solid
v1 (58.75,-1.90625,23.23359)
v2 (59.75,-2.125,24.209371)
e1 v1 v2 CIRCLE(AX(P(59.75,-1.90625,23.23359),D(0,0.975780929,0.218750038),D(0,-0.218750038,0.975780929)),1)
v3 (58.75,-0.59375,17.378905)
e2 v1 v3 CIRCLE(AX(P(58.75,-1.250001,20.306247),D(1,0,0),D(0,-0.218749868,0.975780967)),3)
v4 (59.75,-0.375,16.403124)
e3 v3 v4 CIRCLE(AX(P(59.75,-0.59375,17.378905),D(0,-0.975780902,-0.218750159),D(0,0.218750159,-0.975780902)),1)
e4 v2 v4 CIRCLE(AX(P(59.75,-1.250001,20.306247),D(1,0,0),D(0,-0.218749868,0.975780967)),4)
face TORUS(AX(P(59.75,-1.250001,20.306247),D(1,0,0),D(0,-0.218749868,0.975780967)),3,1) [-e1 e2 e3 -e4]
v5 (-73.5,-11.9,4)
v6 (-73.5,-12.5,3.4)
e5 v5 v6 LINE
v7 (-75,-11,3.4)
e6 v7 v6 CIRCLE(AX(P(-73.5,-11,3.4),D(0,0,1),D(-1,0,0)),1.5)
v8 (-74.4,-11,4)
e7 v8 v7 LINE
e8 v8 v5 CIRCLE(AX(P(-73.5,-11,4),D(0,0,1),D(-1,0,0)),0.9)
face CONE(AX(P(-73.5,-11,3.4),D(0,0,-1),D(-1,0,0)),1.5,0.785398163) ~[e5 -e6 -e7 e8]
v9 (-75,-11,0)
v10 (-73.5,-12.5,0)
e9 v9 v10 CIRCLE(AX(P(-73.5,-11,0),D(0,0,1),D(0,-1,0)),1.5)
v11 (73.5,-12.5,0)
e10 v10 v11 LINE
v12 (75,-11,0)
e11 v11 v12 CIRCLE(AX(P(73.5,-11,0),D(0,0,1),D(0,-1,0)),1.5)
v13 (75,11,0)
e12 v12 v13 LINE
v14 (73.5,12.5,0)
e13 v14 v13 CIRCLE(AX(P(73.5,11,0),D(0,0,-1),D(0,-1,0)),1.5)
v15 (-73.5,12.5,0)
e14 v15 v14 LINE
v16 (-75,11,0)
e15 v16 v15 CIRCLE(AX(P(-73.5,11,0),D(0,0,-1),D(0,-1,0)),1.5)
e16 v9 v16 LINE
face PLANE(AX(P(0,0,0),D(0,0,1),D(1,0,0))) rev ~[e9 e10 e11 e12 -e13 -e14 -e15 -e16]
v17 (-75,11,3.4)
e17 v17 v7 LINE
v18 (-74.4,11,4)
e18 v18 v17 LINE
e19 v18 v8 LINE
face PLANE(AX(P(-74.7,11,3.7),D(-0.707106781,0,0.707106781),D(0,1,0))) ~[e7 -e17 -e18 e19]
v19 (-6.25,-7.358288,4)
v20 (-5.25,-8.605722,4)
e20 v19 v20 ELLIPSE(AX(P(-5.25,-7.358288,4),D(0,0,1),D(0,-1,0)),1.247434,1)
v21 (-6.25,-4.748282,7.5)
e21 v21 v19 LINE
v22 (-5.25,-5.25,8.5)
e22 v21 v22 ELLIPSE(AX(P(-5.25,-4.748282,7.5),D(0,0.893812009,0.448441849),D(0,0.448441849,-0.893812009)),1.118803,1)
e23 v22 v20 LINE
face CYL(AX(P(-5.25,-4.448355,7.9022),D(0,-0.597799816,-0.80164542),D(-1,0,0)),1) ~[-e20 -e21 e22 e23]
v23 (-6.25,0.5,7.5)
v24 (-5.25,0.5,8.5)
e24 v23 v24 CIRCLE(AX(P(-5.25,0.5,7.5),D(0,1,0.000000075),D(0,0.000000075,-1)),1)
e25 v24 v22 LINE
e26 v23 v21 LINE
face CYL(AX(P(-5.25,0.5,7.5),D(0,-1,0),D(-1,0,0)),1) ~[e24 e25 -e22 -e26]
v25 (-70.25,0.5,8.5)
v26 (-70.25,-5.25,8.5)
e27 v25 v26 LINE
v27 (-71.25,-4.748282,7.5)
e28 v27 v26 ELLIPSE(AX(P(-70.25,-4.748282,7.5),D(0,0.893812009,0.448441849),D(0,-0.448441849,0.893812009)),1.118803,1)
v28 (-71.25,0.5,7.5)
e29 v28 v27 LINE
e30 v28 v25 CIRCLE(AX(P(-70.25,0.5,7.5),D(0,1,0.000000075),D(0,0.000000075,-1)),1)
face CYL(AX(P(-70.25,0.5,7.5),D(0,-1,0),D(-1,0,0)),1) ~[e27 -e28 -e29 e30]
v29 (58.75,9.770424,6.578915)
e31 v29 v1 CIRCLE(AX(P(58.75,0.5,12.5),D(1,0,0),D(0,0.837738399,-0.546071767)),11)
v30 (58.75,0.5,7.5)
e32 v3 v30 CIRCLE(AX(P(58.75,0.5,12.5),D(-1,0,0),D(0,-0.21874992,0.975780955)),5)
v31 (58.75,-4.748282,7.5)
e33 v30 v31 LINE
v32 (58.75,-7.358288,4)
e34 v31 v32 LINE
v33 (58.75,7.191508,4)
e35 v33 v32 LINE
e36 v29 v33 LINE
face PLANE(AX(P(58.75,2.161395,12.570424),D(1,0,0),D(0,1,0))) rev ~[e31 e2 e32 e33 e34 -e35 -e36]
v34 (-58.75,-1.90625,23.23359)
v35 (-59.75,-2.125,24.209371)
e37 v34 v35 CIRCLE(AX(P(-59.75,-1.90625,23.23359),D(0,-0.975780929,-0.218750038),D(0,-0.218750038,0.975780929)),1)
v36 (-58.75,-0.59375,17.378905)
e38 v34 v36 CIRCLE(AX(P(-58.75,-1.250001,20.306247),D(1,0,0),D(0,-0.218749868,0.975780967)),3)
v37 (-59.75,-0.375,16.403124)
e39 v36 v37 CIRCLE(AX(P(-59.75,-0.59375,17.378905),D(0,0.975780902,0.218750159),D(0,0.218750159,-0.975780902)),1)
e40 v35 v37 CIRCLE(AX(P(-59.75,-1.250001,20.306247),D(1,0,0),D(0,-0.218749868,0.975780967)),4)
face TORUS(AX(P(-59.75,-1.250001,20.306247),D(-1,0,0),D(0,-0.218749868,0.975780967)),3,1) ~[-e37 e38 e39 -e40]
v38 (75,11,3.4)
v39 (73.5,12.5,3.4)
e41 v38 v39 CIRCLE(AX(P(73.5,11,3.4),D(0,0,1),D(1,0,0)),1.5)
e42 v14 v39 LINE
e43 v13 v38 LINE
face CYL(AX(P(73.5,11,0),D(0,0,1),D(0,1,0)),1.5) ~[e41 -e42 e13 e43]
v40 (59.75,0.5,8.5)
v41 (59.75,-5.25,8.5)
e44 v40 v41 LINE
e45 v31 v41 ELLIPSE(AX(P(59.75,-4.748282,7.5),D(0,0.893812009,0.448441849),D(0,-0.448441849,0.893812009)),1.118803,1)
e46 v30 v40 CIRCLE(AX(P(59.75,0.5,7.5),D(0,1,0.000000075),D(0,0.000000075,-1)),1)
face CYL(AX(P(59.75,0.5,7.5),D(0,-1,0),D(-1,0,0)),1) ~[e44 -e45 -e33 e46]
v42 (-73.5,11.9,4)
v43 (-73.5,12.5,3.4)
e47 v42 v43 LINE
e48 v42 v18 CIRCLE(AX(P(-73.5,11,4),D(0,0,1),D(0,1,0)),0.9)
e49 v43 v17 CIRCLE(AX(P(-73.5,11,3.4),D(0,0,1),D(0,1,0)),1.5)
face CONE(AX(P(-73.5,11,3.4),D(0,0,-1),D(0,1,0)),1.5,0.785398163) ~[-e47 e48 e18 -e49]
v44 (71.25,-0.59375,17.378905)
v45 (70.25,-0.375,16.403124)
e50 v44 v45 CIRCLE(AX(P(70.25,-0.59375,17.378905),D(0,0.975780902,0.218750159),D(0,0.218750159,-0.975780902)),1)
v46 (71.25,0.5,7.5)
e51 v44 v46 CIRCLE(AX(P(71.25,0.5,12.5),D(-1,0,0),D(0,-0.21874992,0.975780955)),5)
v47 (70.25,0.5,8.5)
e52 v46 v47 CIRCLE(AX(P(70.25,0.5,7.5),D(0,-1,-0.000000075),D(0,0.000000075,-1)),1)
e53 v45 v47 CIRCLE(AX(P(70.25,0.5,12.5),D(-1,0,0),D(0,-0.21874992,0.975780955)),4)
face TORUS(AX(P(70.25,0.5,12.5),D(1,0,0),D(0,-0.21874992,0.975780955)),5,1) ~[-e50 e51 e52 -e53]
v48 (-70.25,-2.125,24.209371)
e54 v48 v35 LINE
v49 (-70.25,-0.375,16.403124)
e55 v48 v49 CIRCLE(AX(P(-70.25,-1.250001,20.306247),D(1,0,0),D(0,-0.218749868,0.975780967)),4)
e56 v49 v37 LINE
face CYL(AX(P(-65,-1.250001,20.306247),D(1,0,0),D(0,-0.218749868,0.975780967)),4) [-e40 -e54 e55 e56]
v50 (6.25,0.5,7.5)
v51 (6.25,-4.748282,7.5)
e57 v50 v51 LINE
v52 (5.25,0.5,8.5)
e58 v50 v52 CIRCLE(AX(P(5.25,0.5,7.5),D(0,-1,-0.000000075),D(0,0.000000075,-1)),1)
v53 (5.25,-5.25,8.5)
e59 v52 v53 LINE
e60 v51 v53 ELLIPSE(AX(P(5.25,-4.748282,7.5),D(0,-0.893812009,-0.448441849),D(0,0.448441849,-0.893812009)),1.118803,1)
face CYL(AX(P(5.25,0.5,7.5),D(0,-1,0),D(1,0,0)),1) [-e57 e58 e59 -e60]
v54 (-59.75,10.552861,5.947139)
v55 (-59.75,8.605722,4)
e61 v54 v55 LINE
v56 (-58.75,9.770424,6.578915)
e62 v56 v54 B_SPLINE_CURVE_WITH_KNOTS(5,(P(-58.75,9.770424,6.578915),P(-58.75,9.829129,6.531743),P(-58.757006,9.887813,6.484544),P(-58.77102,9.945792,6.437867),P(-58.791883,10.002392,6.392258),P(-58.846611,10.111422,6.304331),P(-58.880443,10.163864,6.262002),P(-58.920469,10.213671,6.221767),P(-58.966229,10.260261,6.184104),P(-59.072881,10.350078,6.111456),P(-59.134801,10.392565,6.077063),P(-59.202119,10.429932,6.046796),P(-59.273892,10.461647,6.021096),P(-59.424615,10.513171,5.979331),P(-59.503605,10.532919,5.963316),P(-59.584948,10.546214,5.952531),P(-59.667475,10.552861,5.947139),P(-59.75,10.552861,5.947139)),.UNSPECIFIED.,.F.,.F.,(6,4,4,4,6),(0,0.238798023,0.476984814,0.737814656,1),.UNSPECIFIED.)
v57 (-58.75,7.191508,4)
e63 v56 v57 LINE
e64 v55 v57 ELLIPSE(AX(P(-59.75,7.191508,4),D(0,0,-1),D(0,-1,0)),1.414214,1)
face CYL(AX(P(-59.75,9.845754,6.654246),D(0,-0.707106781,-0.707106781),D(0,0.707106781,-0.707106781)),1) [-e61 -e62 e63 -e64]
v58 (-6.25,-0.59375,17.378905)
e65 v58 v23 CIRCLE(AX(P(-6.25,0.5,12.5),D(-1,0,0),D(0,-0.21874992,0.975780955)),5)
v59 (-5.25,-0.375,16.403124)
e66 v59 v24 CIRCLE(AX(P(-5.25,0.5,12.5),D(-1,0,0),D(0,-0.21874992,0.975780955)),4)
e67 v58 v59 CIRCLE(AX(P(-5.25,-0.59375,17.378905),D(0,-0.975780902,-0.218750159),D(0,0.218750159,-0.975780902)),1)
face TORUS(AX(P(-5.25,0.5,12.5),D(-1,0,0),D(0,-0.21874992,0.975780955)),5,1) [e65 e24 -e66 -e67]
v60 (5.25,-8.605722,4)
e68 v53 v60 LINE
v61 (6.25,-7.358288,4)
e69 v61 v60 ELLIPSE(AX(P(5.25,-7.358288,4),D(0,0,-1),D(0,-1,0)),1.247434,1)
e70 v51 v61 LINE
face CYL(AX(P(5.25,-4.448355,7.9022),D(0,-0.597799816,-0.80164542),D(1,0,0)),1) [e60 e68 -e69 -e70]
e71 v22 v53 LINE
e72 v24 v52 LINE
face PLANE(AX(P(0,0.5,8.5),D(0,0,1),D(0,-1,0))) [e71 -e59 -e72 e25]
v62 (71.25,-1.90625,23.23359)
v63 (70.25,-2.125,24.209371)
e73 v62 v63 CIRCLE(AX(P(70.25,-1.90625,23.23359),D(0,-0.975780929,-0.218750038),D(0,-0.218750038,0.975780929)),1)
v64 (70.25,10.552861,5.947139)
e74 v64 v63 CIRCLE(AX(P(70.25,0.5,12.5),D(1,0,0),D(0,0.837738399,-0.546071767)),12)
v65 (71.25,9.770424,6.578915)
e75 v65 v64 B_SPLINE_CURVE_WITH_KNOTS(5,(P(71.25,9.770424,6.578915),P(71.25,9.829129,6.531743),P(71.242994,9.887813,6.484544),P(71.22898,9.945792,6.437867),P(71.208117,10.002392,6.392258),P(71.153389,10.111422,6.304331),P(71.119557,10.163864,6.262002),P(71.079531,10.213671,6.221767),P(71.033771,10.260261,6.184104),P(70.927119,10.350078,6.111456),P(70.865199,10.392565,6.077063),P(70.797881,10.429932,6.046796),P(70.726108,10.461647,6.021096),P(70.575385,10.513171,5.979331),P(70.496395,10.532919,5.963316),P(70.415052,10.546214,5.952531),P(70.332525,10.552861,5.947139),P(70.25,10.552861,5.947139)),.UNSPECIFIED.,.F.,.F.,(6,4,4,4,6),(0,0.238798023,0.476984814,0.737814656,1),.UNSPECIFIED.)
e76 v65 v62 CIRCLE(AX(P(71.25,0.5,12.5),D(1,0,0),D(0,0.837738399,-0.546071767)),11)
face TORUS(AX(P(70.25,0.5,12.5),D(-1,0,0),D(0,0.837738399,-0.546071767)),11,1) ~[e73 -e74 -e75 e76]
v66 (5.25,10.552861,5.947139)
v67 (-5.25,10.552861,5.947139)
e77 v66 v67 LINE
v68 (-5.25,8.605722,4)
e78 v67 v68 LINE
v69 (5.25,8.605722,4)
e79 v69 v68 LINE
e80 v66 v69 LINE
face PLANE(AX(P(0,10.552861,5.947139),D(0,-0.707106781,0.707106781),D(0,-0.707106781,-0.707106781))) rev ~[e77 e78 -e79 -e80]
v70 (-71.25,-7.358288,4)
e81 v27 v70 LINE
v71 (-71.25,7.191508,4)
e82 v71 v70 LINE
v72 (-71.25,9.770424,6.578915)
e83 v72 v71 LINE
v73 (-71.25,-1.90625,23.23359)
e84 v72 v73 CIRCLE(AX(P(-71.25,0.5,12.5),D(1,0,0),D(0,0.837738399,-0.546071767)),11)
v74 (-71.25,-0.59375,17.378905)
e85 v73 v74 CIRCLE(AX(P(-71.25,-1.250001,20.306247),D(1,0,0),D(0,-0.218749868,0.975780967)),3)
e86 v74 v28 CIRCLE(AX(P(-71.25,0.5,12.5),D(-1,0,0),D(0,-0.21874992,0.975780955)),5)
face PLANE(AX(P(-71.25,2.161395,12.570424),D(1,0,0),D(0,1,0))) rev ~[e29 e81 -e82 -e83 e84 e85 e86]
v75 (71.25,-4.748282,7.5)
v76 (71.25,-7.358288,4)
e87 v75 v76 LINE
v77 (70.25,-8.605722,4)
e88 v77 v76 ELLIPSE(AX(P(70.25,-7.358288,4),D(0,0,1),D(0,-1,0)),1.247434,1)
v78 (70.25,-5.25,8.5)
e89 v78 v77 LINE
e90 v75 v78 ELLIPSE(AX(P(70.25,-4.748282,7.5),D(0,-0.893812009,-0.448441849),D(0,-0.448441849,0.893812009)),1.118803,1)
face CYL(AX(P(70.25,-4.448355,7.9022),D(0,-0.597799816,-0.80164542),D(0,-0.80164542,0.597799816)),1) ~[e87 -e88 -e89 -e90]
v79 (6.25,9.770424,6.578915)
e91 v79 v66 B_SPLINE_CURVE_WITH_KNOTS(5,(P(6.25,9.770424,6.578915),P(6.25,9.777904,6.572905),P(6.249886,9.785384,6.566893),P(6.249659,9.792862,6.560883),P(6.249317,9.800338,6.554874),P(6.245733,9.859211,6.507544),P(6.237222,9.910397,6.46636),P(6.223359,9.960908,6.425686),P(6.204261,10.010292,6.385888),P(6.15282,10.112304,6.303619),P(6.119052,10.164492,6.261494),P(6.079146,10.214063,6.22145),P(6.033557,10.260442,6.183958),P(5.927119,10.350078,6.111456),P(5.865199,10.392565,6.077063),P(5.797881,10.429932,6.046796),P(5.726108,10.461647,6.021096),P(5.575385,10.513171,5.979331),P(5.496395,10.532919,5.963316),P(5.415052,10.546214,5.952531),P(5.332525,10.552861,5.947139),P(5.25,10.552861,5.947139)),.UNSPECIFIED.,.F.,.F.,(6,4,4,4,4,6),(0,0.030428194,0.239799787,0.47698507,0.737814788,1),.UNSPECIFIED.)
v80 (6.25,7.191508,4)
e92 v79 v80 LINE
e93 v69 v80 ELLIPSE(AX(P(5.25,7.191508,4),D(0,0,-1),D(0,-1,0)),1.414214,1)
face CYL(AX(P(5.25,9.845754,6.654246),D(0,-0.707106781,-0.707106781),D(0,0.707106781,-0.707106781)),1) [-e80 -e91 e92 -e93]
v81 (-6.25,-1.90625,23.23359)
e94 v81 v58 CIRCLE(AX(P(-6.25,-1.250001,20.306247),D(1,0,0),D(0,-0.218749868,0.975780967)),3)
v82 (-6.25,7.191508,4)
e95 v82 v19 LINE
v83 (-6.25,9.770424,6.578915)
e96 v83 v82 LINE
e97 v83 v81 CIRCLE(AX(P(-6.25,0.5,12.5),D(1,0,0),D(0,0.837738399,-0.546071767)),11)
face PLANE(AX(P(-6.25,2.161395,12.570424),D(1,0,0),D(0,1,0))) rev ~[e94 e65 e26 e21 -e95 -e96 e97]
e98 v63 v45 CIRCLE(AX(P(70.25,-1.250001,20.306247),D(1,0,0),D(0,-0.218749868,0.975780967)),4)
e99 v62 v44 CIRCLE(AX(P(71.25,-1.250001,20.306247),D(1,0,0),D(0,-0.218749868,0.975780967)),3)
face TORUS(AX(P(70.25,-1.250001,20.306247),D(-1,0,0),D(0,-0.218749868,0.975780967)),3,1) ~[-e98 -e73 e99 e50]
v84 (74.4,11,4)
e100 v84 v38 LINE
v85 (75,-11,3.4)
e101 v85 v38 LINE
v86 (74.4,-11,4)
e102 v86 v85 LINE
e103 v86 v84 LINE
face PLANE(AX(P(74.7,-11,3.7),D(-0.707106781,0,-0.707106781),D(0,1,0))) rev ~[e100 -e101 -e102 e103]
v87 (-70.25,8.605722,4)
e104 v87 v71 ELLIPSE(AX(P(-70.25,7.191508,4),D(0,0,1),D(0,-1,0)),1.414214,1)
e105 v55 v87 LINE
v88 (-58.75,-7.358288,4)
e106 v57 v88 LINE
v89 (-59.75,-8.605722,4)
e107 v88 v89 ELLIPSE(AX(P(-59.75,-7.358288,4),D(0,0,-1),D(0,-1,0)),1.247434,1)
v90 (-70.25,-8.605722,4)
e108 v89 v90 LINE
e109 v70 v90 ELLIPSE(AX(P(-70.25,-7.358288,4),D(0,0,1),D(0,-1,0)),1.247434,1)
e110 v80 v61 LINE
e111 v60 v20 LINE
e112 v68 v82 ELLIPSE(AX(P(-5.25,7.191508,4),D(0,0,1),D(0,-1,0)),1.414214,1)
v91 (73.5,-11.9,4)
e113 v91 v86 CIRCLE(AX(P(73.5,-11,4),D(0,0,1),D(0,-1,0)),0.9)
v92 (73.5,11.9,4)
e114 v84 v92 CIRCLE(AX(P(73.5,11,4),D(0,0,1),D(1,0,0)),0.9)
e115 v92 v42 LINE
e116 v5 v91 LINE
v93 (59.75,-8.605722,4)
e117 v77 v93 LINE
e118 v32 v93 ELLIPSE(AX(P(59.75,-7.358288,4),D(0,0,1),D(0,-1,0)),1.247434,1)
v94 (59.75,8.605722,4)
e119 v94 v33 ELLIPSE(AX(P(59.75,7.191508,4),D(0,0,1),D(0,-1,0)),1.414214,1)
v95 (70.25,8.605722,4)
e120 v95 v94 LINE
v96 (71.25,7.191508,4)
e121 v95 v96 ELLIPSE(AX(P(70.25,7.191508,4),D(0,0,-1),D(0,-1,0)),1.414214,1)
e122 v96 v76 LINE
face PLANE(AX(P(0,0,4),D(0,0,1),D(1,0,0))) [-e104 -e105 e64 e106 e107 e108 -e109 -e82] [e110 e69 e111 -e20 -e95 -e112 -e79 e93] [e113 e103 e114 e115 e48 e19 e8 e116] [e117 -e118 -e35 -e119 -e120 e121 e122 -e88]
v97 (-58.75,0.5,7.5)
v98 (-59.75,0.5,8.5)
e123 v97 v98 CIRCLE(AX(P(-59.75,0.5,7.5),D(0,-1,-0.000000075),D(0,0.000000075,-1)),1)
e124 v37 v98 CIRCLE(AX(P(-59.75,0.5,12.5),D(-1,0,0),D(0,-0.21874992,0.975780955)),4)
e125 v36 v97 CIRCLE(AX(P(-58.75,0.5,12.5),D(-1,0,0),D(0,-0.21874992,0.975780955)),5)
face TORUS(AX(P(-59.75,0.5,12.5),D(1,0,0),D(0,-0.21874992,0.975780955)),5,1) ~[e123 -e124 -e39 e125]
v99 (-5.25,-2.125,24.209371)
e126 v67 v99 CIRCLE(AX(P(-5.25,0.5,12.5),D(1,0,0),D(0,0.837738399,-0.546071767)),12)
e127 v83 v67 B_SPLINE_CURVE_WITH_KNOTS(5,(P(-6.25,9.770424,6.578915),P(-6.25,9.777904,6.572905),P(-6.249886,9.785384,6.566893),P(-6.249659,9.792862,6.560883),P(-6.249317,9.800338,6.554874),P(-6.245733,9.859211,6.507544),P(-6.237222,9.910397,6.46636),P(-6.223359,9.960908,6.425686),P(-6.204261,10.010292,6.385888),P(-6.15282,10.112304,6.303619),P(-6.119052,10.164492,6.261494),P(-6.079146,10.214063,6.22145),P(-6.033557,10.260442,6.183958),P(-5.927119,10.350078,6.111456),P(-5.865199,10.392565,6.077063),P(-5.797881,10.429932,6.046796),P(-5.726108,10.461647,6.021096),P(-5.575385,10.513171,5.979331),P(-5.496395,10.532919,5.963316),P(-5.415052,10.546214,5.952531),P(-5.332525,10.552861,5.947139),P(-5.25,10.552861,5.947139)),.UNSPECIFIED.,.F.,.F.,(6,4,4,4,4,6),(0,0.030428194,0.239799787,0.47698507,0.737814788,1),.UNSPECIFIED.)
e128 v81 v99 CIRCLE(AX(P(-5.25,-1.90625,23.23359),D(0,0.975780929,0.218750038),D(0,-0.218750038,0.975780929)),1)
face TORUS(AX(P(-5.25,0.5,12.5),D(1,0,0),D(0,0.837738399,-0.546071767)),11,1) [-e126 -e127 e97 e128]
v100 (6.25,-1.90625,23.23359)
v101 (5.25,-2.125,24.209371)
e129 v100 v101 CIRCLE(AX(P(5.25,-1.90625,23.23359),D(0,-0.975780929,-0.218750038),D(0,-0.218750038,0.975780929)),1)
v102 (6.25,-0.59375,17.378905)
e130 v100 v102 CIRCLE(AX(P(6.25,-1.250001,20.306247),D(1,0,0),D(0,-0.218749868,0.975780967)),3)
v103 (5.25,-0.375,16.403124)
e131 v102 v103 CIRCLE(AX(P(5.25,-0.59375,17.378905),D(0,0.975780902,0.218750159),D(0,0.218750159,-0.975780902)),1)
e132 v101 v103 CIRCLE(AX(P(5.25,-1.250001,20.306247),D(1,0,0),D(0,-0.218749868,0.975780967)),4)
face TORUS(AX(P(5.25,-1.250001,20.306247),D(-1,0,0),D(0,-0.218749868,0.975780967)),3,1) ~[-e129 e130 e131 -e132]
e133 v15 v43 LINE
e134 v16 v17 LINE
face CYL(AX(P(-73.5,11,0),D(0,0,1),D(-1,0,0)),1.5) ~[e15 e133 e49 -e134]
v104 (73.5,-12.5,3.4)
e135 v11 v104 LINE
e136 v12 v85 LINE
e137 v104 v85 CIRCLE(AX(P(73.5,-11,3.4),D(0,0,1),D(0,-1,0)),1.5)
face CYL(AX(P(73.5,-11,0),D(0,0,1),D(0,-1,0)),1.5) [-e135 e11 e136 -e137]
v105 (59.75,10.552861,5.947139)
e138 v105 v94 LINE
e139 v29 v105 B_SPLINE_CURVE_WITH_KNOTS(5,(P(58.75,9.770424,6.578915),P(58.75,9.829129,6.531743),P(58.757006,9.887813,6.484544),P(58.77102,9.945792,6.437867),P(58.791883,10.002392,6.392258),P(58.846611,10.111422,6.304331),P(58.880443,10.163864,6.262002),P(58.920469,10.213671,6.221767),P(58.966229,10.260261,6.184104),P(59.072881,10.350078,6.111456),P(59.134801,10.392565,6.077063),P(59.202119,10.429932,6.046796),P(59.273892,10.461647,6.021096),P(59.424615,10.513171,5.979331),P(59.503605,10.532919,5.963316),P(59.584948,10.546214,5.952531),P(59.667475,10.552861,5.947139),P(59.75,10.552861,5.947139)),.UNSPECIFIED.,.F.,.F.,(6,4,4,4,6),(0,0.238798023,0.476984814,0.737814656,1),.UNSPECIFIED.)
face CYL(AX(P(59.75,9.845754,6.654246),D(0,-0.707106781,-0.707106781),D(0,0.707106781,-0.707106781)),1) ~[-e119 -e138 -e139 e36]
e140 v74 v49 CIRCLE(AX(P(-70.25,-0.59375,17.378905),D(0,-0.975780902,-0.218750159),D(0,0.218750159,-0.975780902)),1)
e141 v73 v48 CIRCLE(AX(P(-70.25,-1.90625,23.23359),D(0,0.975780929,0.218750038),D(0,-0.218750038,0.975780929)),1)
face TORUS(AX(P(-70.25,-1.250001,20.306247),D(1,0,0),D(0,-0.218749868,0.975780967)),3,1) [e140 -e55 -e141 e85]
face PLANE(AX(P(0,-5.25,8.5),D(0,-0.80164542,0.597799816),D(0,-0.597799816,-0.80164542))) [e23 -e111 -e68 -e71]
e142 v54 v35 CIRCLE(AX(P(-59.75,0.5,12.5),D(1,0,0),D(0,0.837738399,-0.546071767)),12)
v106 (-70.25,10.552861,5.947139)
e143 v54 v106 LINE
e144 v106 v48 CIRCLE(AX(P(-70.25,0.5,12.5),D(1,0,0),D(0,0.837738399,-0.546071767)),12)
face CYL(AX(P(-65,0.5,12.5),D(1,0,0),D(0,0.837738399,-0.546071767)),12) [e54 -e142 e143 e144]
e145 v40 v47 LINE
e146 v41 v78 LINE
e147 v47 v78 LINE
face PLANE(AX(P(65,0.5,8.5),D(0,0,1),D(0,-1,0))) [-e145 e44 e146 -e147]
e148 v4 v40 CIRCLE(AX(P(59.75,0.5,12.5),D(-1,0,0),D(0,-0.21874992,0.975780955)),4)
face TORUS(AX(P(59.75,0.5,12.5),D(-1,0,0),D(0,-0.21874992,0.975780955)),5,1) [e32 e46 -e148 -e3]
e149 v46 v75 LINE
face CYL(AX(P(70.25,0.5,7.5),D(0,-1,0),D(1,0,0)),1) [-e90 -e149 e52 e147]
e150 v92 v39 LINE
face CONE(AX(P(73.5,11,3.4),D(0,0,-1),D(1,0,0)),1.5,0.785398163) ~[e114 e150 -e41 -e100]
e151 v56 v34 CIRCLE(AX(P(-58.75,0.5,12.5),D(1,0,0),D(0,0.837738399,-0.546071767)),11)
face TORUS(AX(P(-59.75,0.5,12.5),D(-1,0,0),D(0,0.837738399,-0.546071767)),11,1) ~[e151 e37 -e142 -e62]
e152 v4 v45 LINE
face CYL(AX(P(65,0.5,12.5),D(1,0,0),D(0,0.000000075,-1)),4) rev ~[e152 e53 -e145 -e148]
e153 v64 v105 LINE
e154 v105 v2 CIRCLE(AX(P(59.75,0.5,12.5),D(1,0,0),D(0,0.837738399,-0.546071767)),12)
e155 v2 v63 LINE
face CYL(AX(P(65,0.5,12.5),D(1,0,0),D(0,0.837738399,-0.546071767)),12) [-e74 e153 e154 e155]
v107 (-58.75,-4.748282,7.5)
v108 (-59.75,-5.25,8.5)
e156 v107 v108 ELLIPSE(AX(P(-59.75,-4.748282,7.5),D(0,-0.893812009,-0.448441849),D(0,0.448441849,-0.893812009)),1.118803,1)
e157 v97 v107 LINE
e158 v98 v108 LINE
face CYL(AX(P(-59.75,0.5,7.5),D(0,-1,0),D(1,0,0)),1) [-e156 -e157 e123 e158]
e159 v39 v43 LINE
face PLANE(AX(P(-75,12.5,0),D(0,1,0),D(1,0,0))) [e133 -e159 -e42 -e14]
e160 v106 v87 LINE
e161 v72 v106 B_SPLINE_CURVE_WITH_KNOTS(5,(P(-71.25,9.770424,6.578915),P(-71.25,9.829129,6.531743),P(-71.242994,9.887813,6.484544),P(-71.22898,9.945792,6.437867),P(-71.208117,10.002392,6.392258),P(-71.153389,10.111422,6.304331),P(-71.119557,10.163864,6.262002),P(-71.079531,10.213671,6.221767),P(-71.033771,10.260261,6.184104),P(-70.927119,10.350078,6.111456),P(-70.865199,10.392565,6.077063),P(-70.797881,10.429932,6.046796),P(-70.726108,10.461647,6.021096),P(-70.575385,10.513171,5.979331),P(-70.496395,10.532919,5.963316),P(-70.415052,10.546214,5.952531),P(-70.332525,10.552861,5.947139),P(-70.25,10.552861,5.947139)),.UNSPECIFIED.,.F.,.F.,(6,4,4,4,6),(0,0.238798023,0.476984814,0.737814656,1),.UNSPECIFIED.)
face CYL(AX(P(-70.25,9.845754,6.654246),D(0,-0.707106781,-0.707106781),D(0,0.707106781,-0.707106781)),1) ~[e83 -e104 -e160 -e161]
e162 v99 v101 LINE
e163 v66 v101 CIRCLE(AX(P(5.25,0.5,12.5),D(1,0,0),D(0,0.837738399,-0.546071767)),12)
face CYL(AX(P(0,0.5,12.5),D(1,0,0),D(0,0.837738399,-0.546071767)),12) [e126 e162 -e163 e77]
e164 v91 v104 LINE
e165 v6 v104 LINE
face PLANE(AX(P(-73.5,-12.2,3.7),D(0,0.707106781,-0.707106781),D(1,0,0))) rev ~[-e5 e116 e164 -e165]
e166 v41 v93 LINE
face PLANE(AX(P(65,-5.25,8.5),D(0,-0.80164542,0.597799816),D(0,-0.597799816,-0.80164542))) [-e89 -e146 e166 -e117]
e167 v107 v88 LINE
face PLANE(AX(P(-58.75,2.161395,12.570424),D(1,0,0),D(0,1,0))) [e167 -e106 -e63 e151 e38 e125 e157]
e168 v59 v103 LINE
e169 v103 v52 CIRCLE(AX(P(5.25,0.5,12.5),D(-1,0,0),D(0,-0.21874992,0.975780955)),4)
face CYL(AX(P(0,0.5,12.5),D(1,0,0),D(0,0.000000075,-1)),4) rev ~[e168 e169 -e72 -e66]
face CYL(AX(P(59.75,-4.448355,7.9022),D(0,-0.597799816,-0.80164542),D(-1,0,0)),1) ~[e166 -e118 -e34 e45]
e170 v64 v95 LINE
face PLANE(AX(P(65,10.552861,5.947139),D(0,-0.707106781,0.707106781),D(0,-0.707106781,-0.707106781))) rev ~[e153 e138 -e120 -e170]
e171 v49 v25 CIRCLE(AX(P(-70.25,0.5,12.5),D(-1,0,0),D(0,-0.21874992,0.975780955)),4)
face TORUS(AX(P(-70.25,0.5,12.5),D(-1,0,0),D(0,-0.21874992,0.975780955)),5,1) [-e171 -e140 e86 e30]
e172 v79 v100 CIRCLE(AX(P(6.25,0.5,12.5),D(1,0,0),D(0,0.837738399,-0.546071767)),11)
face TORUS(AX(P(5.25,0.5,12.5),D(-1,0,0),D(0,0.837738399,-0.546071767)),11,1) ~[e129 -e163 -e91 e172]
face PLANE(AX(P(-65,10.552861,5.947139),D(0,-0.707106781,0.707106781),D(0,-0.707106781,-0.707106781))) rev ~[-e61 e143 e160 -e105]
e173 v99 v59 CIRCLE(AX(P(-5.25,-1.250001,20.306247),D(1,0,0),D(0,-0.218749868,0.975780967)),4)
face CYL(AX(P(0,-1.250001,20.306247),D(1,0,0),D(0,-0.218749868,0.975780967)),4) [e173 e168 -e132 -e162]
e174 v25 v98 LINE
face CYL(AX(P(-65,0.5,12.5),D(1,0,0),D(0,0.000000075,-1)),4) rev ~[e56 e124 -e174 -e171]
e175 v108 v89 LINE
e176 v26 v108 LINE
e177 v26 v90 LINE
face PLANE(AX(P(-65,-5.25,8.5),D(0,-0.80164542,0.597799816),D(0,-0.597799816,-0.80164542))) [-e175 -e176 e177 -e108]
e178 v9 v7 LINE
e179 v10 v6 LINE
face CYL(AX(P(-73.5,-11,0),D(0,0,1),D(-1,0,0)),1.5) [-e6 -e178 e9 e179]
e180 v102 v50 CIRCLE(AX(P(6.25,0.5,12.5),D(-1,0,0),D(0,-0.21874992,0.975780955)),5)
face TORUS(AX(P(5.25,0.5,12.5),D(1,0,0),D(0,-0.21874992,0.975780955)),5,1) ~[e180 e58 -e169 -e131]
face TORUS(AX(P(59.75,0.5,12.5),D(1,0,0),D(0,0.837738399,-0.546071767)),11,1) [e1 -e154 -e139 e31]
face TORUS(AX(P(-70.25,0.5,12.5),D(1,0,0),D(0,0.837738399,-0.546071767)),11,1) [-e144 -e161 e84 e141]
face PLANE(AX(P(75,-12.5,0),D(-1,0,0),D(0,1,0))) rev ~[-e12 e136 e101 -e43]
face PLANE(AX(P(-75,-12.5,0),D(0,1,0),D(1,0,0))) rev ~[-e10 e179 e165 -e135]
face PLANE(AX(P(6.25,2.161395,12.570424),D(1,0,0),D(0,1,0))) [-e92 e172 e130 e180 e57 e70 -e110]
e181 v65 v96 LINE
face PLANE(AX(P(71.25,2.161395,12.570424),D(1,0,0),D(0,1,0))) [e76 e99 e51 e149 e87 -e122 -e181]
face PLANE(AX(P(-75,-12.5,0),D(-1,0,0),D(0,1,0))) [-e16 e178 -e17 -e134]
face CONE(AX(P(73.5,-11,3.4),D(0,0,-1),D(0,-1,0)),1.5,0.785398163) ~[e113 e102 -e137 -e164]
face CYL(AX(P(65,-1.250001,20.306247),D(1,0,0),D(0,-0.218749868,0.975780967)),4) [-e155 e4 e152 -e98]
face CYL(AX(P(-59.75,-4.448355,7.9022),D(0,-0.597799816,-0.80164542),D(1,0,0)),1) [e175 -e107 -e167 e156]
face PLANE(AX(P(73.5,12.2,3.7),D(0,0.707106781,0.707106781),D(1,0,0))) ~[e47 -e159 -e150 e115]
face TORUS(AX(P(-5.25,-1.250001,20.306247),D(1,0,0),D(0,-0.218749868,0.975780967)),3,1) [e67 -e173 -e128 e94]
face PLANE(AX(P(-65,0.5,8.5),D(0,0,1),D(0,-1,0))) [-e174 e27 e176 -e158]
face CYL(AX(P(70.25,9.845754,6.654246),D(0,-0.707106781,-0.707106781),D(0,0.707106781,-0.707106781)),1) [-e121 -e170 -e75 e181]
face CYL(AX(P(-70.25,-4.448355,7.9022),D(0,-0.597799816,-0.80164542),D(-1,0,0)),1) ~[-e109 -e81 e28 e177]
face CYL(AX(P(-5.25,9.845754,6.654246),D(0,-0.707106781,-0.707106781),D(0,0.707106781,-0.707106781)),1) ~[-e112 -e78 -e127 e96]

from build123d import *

# Parameters (mm, degrees)
SKETCH_W               = 150
SKETCH_H               = 25
PAD_DEPTH              = 4
PAD001_DEPTH           = 6.25
LINEARPATTERN_COUNT    = 2
LINEARPATTERN_PITCH    = 65
LINEARPATTERN001_COUNT = 2
LINEARPATTERN001_PITCH = 65
FILLET_R               = 1.5
FILLET001_R            = 1
CHAMFER_SIZE           = 0.6


with BuildPart() as part:
    # Sketch → Pad (new body)
    with BuildSketch(Plane.XY):
        Rectangle(SKETCH_W, SKETCH_H)
    extrude(amount=PAD_DEPTH)

    # Sketch002 → Pad001 (join, symmetric)
    with BuildSketch(Plane.YZ):
        with BuildLine():
            ThreePointArc((10.552861, 5.947139), (10.357513, 19.343204), (-2.125, 24.209371))
            ThreePointArc((-2.125, 24.209371), (-5.153124, 19.431247), (-0.375, 16.403124))
            ThreePointArc((0.5, 8.5), (4.475707, 12.940173), (-0.375, 16.403124))
            Line((0.5, 8.5), (-5.25, 8.5))
            Line((-5.25, 8.5), (-8.605722, 4))
            Line((8.605722, 4), (-8.605722, 4))
            Line((10.552861, 5.947139), (8.605722, 4))
        make_face()
    pad001 = extrude(amount=PAD001_DEPTH, both=True)

    # LinearPattern: Pad001 ×2
    with Locations(*[(-i * LINEARPATTERN_PITCH, 0, 0) for i in range(1, LINEARPATTERN_COUNT)]):
        add(pad001)

    # LinearPattern001: Pad001 ×2
    with Locations(*[(i * LINEARPATTERN001_PITCH, 0, 0) for i in range(1, LINEARPATTERN001_COUNT)]):
        add(pad001)

    # Fillet
    fillet_edges = [part.edges().sort_by_distance(p)[0] for p in [
        (-75, 12.5, 2),
        (-75, -12.5, 2),
        (75, 12.5, 2),
        (75, -12.5, 2),
    ]]
    fillet(fillet_edges, radius=FILLET_R)

    # Fillet001
    fillet001_edges = [part.edges().sort_by_distance(p)[0] for p in [
        (71.25, 10.357513, 19.343204),
        (58.75, 10.357513, 19.343204),
        (58.75, -5.153124, 19.431247),
        (58.75, 4.475707, 12.940173),
        (71.25, 4.475707, 12.940173),
        (71.25, -5.153124, 19.431247),
        (71.25, -6.927861, 6.25),
        (71.25, 9.579291, 4.97357),
        (71.25, -2.375, 8.5),
        (58.75, -6.927861, 6.25),
        (58.75, -2.375, 8.5),
        (58.75, 9.579291, 4.97357),
        (6.25, -6.927861, 6.25),
        (6.25, -2.375, 8.5),
        (6.25, 4.475707, 12.940173),
        (6.25, -5.153124, 19.431247),
        (6.25, 10.357513, 19.343204),
        (6.25, 9.579291, 4.97357),
        (-6.25, -6.927861, 6.25),
        (-6.25, -2.375, 8.5),
        (-6.25, 4.475707, 12.940173),
        (-6.25, -5.153124, 19.431247),
        (-6.25, 10.357513, 19.343204),
        (-6.25, 9.579291, 4.97357),
        (-58.75, -6.927861, 6.25),
        (-58.75, -2.375, 8.5),
        (-58.75, 9.579291, 4.97357),
        (-58.75, 10.357513, 19.343204),
        (-58.75, 4.475707, 12.940173),
        (-58.75, -5.153124, 19.431247),
        (-71.25, 10.357513, 19.343204),
        (-71.25, -5.153124, 19.431247),
        (-71.25, 4.475707, 12.940173),
        (-71.25, -2.375, 8.5),
        (-71.25, -6.927861, 6.25),
        (-71.25, 9.579291, 4.97357),
    ]]
    fillet(fillet001_edges, radius=FILLET001_R)

    # Chamfer
    chamfer_edges = [part.edges().sort_by_distance(p)[0] for p in [
        (0, -12.5, 4),
    ]]
    chamfer(chamfer_edges, length=CHAMFER_SIZE)


solid = part.part
